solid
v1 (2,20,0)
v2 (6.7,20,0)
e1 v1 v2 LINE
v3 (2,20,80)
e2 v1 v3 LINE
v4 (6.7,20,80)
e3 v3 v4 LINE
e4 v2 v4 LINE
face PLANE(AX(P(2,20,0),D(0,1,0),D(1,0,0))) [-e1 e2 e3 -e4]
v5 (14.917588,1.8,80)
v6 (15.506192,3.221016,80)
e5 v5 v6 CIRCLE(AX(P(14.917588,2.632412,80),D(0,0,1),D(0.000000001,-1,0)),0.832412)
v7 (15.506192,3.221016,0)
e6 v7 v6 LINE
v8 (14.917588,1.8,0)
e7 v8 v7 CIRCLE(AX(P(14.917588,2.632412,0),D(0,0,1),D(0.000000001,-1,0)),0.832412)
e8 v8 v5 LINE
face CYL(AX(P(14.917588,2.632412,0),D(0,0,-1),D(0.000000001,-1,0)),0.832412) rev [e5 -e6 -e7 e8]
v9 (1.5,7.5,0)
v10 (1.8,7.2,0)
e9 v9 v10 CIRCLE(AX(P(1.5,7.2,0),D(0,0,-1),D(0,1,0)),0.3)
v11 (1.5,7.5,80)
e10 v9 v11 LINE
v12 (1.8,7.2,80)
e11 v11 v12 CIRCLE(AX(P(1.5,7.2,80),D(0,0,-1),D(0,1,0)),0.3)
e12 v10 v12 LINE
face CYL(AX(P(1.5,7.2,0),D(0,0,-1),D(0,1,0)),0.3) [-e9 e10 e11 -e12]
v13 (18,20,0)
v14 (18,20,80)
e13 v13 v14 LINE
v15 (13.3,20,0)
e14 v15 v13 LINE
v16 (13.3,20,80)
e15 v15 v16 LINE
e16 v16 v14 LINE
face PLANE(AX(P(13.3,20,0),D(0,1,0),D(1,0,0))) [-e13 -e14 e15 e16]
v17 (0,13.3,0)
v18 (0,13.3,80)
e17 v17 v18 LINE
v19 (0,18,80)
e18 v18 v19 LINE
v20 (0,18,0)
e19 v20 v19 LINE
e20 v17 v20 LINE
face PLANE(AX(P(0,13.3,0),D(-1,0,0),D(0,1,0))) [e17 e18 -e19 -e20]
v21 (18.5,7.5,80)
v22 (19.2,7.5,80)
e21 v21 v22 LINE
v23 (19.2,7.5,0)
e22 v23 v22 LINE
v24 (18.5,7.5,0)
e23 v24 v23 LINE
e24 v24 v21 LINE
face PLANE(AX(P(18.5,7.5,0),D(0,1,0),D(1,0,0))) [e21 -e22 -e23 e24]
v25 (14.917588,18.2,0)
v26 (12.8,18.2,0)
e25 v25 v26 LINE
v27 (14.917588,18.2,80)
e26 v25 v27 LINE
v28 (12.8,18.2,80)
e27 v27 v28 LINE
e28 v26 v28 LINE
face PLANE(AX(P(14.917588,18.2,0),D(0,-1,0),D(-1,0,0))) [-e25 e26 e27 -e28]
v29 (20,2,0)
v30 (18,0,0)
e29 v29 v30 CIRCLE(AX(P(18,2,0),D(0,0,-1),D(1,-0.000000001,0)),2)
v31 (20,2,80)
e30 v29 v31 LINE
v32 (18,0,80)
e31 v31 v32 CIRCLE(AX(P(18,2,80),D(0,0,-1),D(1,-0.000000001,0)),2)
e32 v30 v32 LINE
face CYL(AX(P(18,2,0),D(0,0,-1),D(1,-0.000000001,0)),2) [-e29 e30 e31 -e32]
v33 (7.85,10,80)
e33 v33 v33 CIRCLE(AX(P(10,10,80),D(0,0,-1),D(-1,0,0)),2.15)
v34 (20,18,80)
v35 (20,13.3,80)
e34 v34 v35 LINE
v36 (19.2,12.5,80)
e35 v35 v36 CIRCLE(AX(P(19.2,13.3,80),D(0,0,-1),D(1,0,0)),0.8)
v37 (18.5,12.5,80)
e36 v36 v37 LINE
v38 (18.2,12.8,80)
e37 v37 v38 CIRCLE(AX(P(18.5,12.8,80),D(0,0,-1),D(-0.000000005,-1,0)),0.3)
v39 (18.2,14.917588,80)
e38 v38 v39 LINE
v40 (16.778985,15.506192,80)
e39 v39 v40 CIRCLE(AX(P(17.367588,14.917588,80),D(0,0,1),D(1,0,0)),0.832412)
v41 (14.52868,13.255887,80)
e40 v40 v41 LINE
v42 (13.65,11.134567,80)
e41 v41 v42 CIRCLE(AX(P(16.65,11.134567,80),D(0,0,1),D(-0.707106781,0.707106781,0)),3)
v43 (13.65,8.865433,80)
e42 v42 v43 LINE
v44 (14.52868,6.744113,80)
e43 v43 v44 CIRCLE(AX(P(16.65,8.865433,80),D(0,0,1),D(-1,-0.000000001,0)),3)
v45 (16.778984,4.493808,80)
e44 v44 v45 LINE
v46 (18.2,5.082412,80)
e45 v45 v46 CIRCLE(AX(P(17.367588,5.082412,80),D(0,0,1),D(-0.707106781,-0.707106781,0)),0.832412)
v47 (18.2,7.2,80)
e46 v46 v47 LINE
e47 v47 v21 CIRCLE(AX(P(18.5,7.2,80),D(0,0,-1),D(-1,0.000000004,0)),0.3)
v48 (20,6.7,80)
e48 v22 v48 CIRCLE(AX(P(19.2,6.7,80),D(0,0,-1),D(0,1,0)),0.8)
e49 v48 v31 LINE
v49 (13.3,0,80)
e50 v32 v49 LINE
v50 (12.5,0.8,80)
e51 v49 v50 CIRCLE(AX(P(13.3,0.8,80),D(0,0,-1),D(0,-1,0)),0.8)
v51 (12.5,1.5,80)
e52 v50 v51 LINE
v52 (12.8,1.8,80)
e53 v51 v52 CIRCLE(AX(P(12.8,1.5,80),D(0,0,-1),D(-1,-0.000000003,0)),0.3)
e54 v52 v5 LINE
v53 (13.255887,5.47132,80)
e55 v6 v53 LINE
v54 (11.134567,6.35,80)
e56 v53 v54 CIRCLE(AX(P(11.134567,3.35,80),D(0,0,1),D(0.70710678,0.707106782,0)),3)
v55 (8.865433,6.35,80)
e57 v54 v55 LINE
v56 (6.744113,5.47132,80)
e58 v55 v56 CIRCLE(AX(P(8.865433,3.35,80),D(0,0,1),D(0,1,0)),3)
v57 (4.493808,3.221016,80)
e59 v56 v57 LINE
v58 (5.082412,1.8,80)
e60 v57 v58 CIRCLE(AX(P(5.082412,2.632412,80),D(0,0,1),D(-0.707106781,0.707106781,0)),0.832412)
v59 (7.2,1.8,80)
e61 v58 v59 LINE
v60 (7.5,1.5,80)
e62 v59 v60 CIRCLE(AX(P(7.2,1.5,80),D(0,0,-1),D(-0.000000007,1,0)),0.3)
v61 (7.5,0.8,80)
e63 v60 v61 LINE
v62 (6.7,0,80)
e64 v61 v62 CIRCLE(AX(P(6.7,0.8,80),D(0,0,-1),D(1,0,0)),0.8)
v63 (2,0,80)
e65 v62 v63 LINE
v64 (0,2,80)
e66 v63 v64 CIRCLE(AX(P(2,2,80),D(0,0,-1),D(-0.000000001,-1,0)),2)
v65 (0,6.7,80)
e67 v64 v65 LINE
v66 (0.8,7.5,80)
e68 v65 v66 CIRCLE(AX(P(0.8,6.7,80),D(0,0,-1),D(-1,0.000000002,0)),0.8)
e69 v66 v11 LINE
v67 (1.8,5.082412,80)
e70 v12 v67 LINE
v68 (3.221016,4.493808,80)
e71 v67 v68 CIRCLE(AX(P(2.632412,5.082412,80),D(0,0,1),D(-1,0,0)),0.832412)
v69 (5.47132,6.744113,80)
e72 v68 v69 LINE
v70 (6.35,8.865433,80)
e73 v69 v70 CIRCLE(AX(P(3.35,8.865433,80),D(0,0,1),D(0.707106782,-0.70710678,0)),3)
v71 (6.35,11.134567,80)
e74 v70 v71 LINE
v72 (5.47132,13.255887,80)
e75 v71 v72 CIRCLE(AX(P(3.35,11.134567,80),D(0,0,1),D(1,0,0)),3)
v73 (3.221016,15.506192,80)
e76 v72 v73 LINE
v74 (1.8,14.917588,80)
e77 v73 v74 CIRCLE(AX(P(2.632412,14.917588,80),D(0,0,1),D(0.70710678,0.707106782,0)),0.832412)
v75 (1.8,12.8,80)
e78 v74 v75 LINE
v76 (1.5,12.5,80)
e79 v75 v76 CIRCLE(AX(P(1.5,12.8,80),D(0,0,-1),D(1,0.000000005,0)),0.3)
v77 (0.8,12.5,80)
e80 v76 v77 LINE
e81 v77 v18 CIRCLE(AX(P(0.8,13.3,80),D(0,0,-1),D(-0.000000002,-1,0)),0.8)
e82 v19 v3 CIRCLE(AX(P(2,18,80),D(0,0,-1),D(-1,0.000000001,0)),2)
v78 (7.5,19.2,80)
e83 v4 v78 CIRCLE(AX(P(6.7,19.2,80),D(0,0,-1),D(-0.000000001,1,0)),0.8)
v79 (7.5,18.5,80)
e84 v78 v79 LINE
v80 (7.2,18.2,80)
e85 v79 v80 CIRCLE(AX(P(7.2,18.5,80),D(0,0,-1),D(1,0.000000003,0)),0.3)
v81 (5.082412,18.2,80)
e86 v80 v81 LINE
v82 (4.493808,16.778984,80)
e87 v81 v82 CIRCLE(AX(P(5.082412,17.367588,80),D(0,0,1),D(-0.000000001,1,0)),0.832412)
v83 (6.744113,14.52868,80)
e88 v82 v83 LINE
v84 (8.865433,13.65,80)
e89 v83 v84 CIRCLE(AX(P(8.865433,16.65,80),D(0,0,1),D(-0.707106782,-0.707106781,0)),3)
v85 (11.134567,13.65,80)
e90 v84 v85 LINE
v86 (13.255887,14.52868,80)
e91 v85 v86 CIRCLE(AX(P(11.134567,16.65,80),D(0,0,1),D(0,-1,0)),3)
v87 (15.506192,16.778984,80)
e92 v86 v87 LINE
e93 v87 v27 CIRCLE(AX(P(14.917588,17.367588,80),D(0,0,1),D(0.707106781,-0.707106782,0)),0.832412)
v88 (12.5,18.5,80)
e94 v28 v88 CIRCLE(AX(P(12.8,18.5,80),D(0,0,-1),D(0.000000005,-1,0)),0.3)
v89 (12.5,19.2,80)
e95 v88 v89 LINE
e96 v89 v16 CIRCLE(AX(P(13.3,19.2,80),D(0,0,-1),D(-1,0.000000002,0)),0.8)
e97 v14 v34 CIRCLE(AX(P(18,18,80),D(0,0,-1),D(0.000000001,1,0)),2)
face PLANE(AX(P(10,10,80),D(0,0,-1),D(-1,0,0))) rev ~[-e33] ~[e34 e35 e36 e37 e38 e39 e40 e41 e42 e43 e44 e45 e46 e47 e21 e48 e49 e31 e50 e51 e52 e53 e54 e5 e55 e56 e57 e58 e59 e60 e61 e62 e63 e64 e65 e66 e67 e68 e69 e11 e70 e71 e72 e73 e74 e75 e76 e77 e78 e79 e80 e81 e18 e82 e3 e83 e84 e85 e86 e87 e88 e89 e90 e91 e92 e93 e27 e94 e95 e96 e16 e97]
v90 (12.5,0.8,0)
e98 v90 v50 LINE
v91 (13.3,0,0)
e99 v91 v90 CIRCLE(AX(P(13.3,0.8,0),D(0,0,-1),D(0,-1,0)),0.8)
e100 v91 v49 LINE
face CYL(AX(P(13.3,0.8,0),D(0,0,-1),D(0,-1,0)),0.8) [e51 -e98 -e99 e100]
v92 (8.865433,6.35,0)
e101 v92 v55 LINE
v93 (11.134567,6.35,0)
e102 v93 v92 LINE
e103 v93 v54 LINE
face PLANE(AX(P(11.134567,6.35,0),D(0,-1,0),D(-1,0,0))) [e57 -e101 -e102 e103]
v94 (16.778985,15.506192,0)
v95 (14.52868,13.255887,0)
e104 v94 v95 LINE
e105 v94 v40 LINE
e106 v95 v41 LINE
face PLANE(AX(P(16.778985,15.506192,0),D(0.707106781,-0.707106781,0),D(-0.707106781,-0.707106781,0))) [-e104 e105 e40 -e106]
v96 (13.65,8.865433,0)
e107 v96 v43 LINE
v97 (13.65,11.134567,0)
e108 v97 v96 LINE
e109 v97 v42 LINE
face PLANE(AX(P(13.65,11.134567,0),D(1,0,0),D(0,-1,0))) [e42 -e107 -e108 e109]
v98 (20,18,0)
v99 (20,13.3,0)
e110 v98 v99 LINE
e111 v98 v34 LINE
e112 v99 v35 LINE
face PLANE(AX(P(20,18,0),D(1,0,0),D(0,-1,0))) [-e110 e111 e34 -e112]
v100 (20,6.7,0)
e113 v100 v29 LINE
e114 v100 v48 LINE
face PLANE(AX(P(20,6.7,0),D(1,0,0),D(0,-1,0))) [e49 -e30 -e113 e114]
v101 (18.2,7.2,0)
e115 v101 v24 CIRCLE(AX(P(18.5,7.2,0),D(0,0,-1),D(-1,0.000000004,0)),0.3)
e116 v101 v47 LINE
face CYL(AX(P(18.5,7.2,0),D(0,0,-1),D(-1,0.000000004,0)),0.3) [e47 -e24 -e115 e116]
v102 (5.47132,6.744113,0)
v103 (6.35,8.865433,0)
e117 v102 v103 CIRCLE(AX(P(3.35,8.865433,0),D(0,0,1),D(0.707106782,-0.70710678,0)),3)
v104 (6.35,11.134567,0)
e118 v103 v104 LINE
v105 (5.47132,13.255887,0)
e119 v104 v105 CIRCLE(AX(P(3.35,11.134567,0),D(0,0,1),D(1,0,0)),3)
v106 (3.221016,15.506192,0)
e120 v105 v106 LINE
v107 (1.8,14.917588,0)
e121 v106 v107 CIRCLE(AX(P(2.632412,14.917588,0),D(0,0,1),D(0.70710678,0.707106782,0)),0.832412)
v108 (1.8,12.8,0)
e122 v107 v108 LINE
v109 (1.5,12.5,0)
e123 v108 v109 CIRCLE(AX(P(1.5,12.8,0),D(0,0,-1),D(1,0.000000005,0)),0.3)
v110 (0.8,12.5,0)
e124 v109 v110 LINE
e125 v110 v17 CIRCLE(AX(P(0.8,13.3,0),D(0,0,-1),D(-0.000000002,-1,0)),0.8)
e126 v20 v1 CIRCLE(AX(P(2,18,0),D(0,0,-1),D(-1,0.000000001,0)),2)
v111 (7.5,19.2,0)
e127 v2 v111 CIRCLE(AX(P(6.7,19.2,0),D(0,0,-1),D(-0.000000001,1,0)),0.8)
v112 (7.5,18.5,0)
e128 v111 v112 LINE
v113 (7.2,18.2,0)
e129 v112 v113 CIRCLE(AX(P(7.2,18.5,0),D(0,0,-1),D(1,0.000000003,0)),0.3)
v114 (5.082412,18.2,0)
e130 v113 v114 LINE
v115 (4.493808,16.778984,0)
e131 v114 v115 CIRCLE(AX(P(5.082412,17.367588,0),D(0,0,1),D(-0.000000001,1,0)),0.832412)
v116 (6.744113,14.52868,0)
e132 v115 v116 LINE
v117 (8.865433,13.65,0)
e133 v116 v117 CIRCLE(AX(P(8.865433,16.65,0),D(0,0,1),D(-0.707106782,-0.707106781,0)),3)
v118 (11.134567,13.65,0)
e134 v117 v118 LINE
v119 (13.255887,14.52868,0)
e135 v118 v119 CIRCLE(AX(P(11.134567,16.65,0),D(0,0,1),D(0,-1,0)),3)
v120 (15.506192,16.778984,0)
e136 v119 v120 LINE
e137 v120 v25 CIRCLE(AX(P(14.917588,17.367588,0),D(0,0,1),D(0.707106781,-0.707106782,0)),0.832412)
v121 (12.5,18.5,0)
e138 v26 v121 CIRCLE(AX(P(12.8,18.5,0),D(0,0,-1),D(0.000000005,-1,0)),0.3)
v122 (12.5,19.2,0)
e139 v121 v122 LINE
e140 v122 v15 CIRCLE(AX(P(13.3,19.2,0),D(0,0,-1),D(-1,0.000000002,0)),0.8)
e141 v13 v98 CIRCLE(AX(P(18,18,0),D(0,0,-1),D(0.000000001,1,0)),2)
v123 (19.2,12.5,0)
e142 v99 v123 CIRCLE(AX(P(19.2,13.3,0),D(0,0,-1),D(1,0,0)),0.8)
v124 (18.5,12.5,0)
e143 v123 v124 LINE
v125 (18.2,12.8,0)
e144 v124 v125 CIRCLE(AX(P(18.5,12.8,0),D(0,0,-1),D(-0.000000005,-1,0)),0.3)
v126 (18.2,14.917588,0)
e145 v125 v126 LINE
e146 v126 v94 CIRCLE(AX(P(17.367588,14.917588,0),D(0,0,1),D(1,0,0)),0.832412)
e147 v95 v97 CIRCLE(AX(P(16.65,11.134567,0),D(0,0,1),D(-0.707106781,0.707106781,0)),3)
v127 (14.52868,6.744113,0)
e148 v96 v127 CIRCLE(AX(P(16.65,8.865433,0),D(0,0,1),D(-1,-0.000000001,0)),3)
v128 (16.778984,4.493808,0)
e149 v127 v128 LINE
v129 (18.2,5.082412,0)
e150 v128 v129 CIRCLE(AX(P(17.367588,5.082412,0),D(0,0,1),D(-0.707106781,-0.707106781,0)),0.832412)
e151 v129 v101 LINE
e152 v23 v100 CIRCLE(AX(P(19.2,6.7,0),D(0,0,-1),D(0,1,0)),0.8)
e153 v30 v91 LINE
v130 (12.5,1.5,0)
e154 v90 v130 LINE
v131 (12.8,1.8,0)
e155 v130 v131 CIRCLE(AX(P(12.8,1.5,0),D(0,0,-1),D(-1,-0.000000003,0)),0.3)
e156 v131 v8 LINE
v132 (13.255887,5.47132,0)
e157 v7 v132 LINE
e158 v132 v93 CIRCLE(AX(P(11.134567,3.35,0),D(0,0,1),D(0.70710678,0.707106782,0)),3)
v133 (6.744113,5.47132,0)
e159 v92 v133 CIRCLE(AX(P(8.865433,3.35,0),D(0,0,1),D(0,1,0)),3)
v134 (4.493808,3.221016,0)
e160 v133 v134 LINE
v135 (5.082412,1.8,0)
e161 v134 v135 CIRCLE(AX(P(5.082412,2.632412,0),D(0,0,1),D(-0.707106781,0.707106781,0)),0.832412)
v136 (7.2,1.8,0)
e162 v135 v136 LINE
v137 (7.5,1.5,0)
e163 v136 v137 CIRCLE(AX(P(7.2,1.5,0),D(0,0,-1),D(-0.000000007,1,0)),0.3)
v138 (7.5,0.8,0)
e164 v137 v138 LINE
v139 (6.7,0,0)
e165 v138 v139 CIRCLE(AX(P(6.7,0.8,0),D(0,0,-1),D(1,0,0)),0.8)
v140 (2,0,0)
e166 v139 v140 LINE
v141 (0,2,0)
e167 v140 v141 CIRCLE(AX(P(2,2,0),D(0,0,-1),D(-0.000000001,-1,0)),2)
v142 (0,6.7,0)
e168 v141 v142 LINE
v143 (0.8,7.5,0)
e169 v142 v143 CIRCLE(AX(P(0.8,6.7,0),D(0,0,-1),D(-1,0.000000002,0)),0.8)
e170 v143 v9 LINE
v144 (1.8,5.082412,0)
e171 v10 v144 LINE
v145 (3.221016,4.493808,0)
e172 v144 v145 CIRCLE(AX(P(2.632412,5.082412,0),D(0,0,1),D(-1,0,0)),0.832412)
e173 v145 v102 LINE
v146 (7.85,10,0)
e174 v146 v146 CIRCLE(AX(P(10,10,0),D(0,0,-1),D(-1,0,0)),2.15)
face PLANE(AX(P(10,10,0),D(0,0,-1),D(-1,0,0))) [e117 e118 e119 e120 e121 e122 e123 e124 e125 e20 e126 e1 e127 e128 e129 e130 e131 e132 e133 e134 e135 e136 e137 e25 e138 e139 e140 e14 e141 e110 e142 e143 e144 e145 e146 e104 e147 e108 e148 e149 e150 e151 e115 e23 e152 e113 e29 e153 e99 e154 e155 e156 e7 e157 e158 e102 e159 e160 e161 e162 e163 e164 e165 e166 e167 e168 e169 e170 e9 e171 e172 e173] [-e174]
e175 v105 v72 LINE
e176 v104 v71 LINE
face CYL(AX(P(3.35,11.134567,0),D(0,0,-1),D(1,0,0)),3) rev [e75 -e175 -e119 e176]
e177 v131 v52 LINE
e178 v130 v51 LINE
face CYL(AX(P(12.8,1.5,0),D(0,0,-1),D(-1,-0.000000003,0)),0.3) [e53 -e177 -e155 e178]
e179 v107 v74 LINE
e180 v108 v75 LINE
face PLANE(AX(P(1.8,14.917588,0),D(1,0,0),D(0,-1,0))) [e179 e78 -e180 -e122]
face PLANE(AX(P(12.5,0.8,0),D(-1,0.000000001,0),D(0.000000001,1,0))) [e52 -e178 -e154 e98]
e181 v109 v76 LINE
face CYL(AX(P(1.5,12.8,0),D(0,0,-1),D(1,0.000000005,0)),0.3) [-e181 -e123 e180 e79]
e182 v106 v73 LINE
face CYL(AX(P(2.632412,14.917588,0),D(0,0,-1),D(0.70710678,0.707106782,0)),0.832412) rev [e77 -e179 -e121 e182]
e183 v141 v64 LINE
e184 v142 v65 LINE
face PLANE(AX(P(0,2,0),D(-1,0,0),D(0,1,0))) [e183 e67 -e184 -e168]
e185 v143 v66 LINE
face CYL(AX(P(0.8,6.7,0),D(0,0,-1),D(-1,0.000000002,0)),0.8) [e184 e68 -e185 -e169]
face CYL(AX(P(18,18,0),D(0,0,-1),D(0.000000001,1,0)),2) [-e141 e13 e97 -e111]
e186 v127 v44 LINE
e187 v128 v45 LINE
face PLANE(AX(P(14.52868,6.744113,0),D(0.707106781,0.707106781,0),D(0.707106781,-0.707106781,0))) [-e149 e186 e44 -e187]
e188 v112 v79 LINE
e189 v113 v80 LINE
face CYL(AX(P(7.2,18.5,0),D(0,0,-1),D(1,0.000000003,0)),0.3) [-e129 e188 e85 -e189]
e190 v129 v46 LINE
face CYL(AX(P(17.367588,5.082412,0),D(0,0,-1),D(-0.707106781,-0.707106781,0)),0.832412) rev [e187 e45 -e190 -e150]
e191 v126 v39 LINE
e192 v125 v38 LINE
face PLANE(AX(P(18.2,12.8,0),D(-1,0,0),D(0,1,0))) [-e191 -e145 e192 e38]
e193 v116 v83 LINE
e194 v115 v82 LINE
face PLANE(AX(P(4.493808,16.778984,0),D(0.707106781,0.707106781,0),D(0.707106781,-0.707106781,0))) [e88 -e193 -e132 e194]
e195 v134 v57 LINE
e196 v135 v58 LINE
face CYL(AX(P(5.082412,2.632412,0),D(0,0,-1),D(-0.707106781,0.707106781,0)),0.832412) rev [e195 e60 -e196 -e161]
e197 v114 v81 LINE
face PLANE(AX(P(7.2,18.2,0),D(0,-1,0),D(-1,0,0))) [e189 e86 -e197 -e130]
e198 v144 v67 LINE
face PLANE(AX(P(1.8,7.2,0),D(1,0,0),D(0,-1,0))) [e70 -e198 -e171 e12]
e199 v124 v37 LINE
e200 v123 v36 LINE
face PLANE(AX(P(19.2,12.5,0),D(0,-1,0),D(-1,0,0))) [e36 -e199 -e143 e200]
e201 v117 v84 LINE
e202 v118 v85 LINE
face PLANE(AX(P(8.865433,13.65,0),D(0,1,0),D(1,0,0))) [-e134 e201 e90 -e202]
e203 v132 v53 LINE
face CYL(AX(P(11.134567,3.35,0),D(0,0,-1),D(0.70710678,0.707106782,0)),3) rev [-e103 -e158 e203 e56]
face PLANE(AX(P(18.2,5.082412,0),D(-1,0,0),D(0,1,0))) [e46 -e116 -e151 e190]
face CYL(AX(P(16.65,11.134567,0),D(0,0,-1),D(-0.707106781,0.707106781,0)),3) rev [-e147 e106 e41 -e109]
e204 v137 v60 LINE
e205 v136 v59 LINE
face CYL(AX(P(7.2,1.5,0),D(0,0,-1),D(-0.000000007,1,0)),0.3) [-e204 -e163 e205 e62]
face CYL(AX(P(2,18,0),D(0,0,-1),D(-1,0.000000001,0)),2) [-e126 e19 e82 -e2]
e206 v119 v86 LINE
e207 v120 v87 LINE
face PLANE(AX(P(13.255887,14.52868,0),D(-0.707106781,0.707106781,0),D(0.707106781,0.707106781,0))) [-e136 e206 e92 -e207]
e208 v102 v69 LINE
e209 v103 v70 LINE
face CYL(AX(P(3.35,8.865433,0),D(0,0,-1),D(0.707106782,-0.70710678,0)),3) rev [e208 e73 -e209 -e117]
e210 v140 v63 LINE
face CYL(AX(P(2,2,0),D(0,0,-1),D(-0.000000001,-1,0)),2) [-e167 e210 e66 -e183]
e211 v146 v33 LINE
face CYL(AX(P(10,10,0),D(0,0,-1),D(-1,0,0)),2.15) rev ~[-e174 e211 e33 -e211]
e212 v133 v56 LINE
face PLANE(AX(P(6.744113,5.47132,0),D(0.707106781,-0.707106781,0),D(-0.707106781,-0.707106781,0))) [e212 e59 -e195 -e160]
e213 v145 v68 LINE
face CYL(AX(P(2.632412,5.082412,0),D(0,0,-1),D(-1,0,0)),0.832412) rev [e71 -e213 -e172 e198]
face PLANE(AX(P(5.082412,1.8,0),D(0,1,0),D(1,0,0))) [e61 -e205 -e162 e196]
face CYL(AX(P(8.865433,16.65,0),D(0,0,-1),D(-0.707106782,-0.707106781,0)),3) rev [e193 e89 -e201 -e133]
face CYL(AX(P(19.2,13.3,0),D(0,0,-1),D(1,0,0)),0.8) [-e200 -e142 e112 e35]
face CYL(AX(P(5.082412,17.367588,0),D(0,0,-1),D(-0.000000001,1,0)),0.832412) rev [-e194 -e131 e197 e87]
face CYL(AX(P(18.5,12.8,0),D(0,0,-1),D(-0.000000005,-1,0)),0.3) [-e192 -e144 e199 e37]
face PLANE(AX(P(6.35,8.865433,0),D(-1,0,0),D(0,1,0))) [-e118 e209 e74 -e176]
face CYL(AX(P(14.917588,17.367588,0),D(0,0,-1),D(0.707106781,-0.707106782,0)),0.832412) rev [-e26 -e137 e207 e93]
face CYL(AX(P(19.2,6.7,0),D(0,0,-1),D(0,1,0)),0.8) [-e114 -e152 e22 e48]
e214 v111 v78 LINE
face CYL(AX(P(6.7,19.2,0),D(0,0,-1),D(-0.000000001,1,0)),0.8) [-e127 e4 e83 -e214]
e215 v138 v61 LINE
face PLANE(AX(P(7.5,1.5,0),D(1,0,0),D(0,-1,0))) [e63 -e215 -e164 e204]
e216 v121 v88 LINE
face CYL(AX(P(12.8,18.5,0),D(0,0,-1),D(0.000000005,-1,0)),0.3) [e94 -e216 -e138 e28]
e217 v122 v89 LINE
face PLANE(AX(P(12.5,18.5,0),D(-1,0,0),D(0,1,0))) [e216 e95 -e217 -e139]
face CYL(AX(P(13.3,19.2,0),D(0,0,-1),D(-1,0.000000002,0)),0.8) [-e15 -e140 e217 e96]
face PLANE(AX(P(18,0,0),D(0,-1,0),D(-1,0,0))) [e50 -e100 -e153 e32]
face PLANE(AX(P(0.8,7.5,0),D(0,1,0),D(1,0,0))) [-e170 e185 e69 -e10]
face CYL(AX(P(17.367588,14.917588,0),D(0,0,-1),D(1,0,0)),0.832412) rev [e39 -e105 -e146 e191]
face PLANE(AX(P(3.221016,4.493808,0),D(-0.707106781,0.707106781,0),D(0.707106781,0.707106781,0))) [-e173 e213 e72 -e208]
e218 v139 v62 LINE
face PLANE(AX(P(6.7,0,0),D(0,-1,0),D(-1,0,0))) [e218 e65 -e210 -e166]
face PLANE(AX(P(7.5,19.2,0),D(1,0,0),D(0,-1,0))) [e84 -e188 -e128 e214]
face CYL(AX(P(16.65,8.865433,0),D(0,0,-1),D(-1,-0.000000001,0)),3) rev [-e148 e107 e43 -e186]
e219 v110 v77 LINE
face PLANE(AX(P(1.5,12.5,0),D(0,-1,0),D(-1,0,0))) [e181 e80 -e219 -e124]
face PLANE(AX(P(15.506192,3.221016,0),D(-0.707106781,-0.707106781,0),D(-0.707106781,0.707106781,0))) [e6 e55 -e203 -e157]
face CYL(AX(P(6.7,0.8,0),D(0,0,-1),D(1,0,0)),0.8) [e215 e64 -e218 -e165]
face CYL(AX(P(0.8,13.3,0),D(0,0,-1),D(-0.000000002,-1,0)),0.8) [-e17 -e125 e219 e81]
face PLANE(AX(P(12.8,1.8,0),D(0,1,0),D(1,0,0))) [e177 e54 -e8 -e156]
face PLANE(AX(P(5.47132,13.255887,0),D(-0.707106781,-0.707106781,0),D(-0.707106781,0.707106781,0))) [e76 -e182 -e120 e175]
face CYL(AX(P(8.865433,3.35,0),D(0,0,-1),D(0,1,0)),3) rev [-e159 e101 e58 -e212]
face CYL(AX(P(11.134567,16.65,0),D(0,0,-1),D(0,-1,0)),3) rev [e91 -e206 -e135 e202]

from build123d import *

# Parameters (mm, degrees)
SKETCH1_R           = 2.15
BOSS_EXTRUDE1_DEPTH = 80


with BuildPart() as part:
    # Sketch1 → Boss-Extrude1 (new body)
    with BuildSketch(Plane(origin=(0, 0, 0), x_dir=(-1, 0, 0), z_dir=(0, 0, -1))):
        with BuildLine():
            Line((-12.499999997, 0.800000003), (-12.499999998, 1.500000003))
            ThreePointArc((-12.499999998, 1.500000003), (-12.587867964, 1.712132039), (-12.8, 1.800000005))
            Line((-12.8, 1.800000005), (-14.9175884, 1.800000005))
            ThreePointArc((-14.9175884, 1.800000005), (-15.686636445, 2.313861481), (-15.506192291, 3.221015502))
            Line((-15.506192291, 3.221015502), (-13.255887451, 5.471320342))
            ThreePointArc((-13.255887451, 5.471320342), (-12.282617405, 6.121638595), (-11.134567109, 6.349999998))
            Line((-11.134567109, 6.349999998), (-8.865432906, 6.349999998))
            ThreePointArc((-8.865432906, 6.349999998), (-7.717382611, 6.121638596), (-6.744112565, 5.471320342))
            Line((-6.744112565, 5.471320342), (-4.493807727, 3.221015504))
            ThreePointArc((-4.493807727, 3.221015504), (-4.313363573, 2.313861481), (-5.082411619, 1.800000005))
            Line((-5.082411619, 1.800000005), (-7.20000001, 1.800000005))
            ThreePointArc((-7.20000001, 1.800000005), (-7.412132045, 1.71213204), (-7.50000001, 1.500000005))
            Line((-7.50000001, 1.500000005), (-7.50000001, 0.8))
            ThreePointArc((-7.50000001, 0.8), (-7.265685435, 0.234314575), (-6.70000001, 0))
            Line((-6.70000001, 0), (-2, 0))
            ThreePointArc((-2, 0), (-0.585786438, 0.585786438), (0, 2))
            Line((0, 2), (0, 6.699999998))
            ThreePointArc((0, 6.699999998), (-0.234314576, 7.265685424), (-0.800000003, 7.5))
            Line((-0.800000003, 7.5), (-1.500000007, 7.5))
            ThreePointArc((-1.500000007, 7.5), (-1.712132044, 7.412132033), (-1.80000001, 7.199999997))
            Line((-1.80000001, 7.199999997), (-1.80000001, 5.082411604))
            ThreePointArc((-1.80000001, 5.082411604), (-2.313861485, 4.313363559), (-3.221015507, 4.493807713))
            Line((-3.221015507, 4.493807713), (-5.471320347, 6.744112553))
            ThreePointArc((-5.471320347, 6.744112553), (-6.1216386, 7.717382599), (-6.350000003, 8.865432896))
            Line((-6.350000003, 8.865432896), (-6.350000003, 11.134567105))
            ThreePointArc((-6.350000003, 11.134567105), (-6.121638601, 12.2826174), (-5.471320347, 13.255887446))
            Line((-5.471320347, 13.255887446), (-3.221015511, 15.506192282))
            ThreePointArc((-3.221015511, 15.506192282), (-2.313861487, 15.686636436), (-1.80000001, 14.917588389))
            Line((-1.80000001, 14.917588389), (-1.80000001, 12.799999998))
            ThreePointArc((-1.80000001, 12.799999998), (-1.712132045, 12.587867963), (-1.50000001, 12.499999997))
            Line((-1.50000001, 12.499999997), (-0.8, 12.499999997))
            ThreePointArc((-0.8, 12.499999997), (-0.234314575, 12.734314573), (0, 13.299999998))
            Line((0, 13.299999998), (0, 18))
            ThreePointArc((0, 18), (-0.585786438, 19.414213562), (-2, 20))
            Line((-2, 20), (-6.700000008, 20))
            ThreePointArc((-6.700000008, 20), (-7.265685435, 19.765685424), (-7.50000001, 19.199999998))
            Line((-7.50000001, 19.199999998), (-7.50000001, 18.500000005))
            ThreePointArc((-7.50000001, 18.500000005), (-7.412132044, 18.287867969), (-7.200000008, 18.200000003))
            Line((-7.200000008, 18.200000003), (-5.082411595, 18.200000003))
            ThreePointArc((-5.082411595, 18.200000003), (-4.313363547, 17.686138525), (-4.493807702, 16.7789845))
            Line((-4.493807702, 16.7789845), (-6.744112543, 14.528679659))
            ThreePointArc((-6.744112543, 14.528679659), (-7.717382589, 13.878361405), (-8.865432885, 13.650000003))
            Line((-8.865432885, 13.650000003), (-11.134567111, 13.650000003))
            ThreePointArc((-11.134567111, 13.650000003), (-12.282617406, 13.878361405), (-13.255887452, 14.528679658))
            Line((-13.255887452, 14.528679658), (-15.506192292, 16.778984498))
            ThreePointArc((-15.506192292, 16.778984498), (-15.686636447, 17.686138525), (-14.917588397, 18.200000002))
            Line((-14.917588397, 18.200000002), (-12.799999998, 18.200000003))
            ThreePointArc((-12.799999998, 18.200000003), (-12.587867963, 18.287867968), (-12.499999997, 18.500000002))
            Line((-12.499999997, 18.500000002), (-12.499999997, 19.2))
            ThreePointArc((-12.499999997, 19.2), (-12.734314573, 19.765685425), (-13.299999998, 20))
            Line((-13.299999998, 20), (-18, 20))
            ThreePointArc((-18, 20), (-19.414213562, 19.414213562), (-20, 18))
            Line((-20, 18), (-20, 13.3))
            ThreePointArc((-20, 13.3), (-19.765685424, 12.734314573), (-19.199999998, 12.499999997))
            Line((-19.199999998, 12.499999997), (-18.500000003, 12.499999997))
            ThreePointArc((-18.500000003, 12.499999997), (-18.287867967, 12.587867964), (-18.2, 12.8))
            Line((-18.2, 12.8), (-18.2, 14.91758839))
            ThreePointArc((-18.2, 14.91758839), (-17.686138525, 15.686636435), (-16.778984504, 15.506192281))
            Line((-16.778984504, 15.506192281), (-14.528679657, 13.255887434))
            ThreePointArc((-14.528679657, 13.255887434), (-13.878361403, 12.282617388), (-13.65, 11.134567091))
            Line((-13.65, 11.134567091), (-13.65, 8.865432887))
            ThreePointArc((-13.65, 8.865432887), (-13.878361403, 7.717382591), (-14.528679656, 6.744112546))
            Line((-14.528679656, 6.744112546), (-16.778984496, 4.493807706))
            ThreePointArc((-16.778984496, 4.493807706), (-17.686138522, 4.313363551), (-18.2, 5.0824116))
            Line((-18.2, 5.0824116), (-18.2, 7.2))
            ThreePointArc((-18.2, 7.2), (-18.287867966, 7.412132034), (-18.5, 7.5))
            Line((-18.5, 7.5), (-19.2, 7.5))
            ThreePointArc((-19.2, 7.5), (-19.765685425, 7.265685425), (-20, 6.7))
            Line((-20, 6.7), (-20, 2))
            ThreePointArc((-20, 2), (-19.414213562, 0.585786438), (-18, 0))
            Line((-18, 0), (-13.3, 0))
            ThreePointArc((-13.3, 0), (-12.734314573, 0.234314576), (-12.499999997, 0.800000003))
        make_face()
        with Locations((-10, 10)):
            Circle(SKETCH1_R, mode=Mode.SUBTRACT)
    extrude(amount=-BOSS_EXTRUDE1_DEPTH)


solid = part.part
